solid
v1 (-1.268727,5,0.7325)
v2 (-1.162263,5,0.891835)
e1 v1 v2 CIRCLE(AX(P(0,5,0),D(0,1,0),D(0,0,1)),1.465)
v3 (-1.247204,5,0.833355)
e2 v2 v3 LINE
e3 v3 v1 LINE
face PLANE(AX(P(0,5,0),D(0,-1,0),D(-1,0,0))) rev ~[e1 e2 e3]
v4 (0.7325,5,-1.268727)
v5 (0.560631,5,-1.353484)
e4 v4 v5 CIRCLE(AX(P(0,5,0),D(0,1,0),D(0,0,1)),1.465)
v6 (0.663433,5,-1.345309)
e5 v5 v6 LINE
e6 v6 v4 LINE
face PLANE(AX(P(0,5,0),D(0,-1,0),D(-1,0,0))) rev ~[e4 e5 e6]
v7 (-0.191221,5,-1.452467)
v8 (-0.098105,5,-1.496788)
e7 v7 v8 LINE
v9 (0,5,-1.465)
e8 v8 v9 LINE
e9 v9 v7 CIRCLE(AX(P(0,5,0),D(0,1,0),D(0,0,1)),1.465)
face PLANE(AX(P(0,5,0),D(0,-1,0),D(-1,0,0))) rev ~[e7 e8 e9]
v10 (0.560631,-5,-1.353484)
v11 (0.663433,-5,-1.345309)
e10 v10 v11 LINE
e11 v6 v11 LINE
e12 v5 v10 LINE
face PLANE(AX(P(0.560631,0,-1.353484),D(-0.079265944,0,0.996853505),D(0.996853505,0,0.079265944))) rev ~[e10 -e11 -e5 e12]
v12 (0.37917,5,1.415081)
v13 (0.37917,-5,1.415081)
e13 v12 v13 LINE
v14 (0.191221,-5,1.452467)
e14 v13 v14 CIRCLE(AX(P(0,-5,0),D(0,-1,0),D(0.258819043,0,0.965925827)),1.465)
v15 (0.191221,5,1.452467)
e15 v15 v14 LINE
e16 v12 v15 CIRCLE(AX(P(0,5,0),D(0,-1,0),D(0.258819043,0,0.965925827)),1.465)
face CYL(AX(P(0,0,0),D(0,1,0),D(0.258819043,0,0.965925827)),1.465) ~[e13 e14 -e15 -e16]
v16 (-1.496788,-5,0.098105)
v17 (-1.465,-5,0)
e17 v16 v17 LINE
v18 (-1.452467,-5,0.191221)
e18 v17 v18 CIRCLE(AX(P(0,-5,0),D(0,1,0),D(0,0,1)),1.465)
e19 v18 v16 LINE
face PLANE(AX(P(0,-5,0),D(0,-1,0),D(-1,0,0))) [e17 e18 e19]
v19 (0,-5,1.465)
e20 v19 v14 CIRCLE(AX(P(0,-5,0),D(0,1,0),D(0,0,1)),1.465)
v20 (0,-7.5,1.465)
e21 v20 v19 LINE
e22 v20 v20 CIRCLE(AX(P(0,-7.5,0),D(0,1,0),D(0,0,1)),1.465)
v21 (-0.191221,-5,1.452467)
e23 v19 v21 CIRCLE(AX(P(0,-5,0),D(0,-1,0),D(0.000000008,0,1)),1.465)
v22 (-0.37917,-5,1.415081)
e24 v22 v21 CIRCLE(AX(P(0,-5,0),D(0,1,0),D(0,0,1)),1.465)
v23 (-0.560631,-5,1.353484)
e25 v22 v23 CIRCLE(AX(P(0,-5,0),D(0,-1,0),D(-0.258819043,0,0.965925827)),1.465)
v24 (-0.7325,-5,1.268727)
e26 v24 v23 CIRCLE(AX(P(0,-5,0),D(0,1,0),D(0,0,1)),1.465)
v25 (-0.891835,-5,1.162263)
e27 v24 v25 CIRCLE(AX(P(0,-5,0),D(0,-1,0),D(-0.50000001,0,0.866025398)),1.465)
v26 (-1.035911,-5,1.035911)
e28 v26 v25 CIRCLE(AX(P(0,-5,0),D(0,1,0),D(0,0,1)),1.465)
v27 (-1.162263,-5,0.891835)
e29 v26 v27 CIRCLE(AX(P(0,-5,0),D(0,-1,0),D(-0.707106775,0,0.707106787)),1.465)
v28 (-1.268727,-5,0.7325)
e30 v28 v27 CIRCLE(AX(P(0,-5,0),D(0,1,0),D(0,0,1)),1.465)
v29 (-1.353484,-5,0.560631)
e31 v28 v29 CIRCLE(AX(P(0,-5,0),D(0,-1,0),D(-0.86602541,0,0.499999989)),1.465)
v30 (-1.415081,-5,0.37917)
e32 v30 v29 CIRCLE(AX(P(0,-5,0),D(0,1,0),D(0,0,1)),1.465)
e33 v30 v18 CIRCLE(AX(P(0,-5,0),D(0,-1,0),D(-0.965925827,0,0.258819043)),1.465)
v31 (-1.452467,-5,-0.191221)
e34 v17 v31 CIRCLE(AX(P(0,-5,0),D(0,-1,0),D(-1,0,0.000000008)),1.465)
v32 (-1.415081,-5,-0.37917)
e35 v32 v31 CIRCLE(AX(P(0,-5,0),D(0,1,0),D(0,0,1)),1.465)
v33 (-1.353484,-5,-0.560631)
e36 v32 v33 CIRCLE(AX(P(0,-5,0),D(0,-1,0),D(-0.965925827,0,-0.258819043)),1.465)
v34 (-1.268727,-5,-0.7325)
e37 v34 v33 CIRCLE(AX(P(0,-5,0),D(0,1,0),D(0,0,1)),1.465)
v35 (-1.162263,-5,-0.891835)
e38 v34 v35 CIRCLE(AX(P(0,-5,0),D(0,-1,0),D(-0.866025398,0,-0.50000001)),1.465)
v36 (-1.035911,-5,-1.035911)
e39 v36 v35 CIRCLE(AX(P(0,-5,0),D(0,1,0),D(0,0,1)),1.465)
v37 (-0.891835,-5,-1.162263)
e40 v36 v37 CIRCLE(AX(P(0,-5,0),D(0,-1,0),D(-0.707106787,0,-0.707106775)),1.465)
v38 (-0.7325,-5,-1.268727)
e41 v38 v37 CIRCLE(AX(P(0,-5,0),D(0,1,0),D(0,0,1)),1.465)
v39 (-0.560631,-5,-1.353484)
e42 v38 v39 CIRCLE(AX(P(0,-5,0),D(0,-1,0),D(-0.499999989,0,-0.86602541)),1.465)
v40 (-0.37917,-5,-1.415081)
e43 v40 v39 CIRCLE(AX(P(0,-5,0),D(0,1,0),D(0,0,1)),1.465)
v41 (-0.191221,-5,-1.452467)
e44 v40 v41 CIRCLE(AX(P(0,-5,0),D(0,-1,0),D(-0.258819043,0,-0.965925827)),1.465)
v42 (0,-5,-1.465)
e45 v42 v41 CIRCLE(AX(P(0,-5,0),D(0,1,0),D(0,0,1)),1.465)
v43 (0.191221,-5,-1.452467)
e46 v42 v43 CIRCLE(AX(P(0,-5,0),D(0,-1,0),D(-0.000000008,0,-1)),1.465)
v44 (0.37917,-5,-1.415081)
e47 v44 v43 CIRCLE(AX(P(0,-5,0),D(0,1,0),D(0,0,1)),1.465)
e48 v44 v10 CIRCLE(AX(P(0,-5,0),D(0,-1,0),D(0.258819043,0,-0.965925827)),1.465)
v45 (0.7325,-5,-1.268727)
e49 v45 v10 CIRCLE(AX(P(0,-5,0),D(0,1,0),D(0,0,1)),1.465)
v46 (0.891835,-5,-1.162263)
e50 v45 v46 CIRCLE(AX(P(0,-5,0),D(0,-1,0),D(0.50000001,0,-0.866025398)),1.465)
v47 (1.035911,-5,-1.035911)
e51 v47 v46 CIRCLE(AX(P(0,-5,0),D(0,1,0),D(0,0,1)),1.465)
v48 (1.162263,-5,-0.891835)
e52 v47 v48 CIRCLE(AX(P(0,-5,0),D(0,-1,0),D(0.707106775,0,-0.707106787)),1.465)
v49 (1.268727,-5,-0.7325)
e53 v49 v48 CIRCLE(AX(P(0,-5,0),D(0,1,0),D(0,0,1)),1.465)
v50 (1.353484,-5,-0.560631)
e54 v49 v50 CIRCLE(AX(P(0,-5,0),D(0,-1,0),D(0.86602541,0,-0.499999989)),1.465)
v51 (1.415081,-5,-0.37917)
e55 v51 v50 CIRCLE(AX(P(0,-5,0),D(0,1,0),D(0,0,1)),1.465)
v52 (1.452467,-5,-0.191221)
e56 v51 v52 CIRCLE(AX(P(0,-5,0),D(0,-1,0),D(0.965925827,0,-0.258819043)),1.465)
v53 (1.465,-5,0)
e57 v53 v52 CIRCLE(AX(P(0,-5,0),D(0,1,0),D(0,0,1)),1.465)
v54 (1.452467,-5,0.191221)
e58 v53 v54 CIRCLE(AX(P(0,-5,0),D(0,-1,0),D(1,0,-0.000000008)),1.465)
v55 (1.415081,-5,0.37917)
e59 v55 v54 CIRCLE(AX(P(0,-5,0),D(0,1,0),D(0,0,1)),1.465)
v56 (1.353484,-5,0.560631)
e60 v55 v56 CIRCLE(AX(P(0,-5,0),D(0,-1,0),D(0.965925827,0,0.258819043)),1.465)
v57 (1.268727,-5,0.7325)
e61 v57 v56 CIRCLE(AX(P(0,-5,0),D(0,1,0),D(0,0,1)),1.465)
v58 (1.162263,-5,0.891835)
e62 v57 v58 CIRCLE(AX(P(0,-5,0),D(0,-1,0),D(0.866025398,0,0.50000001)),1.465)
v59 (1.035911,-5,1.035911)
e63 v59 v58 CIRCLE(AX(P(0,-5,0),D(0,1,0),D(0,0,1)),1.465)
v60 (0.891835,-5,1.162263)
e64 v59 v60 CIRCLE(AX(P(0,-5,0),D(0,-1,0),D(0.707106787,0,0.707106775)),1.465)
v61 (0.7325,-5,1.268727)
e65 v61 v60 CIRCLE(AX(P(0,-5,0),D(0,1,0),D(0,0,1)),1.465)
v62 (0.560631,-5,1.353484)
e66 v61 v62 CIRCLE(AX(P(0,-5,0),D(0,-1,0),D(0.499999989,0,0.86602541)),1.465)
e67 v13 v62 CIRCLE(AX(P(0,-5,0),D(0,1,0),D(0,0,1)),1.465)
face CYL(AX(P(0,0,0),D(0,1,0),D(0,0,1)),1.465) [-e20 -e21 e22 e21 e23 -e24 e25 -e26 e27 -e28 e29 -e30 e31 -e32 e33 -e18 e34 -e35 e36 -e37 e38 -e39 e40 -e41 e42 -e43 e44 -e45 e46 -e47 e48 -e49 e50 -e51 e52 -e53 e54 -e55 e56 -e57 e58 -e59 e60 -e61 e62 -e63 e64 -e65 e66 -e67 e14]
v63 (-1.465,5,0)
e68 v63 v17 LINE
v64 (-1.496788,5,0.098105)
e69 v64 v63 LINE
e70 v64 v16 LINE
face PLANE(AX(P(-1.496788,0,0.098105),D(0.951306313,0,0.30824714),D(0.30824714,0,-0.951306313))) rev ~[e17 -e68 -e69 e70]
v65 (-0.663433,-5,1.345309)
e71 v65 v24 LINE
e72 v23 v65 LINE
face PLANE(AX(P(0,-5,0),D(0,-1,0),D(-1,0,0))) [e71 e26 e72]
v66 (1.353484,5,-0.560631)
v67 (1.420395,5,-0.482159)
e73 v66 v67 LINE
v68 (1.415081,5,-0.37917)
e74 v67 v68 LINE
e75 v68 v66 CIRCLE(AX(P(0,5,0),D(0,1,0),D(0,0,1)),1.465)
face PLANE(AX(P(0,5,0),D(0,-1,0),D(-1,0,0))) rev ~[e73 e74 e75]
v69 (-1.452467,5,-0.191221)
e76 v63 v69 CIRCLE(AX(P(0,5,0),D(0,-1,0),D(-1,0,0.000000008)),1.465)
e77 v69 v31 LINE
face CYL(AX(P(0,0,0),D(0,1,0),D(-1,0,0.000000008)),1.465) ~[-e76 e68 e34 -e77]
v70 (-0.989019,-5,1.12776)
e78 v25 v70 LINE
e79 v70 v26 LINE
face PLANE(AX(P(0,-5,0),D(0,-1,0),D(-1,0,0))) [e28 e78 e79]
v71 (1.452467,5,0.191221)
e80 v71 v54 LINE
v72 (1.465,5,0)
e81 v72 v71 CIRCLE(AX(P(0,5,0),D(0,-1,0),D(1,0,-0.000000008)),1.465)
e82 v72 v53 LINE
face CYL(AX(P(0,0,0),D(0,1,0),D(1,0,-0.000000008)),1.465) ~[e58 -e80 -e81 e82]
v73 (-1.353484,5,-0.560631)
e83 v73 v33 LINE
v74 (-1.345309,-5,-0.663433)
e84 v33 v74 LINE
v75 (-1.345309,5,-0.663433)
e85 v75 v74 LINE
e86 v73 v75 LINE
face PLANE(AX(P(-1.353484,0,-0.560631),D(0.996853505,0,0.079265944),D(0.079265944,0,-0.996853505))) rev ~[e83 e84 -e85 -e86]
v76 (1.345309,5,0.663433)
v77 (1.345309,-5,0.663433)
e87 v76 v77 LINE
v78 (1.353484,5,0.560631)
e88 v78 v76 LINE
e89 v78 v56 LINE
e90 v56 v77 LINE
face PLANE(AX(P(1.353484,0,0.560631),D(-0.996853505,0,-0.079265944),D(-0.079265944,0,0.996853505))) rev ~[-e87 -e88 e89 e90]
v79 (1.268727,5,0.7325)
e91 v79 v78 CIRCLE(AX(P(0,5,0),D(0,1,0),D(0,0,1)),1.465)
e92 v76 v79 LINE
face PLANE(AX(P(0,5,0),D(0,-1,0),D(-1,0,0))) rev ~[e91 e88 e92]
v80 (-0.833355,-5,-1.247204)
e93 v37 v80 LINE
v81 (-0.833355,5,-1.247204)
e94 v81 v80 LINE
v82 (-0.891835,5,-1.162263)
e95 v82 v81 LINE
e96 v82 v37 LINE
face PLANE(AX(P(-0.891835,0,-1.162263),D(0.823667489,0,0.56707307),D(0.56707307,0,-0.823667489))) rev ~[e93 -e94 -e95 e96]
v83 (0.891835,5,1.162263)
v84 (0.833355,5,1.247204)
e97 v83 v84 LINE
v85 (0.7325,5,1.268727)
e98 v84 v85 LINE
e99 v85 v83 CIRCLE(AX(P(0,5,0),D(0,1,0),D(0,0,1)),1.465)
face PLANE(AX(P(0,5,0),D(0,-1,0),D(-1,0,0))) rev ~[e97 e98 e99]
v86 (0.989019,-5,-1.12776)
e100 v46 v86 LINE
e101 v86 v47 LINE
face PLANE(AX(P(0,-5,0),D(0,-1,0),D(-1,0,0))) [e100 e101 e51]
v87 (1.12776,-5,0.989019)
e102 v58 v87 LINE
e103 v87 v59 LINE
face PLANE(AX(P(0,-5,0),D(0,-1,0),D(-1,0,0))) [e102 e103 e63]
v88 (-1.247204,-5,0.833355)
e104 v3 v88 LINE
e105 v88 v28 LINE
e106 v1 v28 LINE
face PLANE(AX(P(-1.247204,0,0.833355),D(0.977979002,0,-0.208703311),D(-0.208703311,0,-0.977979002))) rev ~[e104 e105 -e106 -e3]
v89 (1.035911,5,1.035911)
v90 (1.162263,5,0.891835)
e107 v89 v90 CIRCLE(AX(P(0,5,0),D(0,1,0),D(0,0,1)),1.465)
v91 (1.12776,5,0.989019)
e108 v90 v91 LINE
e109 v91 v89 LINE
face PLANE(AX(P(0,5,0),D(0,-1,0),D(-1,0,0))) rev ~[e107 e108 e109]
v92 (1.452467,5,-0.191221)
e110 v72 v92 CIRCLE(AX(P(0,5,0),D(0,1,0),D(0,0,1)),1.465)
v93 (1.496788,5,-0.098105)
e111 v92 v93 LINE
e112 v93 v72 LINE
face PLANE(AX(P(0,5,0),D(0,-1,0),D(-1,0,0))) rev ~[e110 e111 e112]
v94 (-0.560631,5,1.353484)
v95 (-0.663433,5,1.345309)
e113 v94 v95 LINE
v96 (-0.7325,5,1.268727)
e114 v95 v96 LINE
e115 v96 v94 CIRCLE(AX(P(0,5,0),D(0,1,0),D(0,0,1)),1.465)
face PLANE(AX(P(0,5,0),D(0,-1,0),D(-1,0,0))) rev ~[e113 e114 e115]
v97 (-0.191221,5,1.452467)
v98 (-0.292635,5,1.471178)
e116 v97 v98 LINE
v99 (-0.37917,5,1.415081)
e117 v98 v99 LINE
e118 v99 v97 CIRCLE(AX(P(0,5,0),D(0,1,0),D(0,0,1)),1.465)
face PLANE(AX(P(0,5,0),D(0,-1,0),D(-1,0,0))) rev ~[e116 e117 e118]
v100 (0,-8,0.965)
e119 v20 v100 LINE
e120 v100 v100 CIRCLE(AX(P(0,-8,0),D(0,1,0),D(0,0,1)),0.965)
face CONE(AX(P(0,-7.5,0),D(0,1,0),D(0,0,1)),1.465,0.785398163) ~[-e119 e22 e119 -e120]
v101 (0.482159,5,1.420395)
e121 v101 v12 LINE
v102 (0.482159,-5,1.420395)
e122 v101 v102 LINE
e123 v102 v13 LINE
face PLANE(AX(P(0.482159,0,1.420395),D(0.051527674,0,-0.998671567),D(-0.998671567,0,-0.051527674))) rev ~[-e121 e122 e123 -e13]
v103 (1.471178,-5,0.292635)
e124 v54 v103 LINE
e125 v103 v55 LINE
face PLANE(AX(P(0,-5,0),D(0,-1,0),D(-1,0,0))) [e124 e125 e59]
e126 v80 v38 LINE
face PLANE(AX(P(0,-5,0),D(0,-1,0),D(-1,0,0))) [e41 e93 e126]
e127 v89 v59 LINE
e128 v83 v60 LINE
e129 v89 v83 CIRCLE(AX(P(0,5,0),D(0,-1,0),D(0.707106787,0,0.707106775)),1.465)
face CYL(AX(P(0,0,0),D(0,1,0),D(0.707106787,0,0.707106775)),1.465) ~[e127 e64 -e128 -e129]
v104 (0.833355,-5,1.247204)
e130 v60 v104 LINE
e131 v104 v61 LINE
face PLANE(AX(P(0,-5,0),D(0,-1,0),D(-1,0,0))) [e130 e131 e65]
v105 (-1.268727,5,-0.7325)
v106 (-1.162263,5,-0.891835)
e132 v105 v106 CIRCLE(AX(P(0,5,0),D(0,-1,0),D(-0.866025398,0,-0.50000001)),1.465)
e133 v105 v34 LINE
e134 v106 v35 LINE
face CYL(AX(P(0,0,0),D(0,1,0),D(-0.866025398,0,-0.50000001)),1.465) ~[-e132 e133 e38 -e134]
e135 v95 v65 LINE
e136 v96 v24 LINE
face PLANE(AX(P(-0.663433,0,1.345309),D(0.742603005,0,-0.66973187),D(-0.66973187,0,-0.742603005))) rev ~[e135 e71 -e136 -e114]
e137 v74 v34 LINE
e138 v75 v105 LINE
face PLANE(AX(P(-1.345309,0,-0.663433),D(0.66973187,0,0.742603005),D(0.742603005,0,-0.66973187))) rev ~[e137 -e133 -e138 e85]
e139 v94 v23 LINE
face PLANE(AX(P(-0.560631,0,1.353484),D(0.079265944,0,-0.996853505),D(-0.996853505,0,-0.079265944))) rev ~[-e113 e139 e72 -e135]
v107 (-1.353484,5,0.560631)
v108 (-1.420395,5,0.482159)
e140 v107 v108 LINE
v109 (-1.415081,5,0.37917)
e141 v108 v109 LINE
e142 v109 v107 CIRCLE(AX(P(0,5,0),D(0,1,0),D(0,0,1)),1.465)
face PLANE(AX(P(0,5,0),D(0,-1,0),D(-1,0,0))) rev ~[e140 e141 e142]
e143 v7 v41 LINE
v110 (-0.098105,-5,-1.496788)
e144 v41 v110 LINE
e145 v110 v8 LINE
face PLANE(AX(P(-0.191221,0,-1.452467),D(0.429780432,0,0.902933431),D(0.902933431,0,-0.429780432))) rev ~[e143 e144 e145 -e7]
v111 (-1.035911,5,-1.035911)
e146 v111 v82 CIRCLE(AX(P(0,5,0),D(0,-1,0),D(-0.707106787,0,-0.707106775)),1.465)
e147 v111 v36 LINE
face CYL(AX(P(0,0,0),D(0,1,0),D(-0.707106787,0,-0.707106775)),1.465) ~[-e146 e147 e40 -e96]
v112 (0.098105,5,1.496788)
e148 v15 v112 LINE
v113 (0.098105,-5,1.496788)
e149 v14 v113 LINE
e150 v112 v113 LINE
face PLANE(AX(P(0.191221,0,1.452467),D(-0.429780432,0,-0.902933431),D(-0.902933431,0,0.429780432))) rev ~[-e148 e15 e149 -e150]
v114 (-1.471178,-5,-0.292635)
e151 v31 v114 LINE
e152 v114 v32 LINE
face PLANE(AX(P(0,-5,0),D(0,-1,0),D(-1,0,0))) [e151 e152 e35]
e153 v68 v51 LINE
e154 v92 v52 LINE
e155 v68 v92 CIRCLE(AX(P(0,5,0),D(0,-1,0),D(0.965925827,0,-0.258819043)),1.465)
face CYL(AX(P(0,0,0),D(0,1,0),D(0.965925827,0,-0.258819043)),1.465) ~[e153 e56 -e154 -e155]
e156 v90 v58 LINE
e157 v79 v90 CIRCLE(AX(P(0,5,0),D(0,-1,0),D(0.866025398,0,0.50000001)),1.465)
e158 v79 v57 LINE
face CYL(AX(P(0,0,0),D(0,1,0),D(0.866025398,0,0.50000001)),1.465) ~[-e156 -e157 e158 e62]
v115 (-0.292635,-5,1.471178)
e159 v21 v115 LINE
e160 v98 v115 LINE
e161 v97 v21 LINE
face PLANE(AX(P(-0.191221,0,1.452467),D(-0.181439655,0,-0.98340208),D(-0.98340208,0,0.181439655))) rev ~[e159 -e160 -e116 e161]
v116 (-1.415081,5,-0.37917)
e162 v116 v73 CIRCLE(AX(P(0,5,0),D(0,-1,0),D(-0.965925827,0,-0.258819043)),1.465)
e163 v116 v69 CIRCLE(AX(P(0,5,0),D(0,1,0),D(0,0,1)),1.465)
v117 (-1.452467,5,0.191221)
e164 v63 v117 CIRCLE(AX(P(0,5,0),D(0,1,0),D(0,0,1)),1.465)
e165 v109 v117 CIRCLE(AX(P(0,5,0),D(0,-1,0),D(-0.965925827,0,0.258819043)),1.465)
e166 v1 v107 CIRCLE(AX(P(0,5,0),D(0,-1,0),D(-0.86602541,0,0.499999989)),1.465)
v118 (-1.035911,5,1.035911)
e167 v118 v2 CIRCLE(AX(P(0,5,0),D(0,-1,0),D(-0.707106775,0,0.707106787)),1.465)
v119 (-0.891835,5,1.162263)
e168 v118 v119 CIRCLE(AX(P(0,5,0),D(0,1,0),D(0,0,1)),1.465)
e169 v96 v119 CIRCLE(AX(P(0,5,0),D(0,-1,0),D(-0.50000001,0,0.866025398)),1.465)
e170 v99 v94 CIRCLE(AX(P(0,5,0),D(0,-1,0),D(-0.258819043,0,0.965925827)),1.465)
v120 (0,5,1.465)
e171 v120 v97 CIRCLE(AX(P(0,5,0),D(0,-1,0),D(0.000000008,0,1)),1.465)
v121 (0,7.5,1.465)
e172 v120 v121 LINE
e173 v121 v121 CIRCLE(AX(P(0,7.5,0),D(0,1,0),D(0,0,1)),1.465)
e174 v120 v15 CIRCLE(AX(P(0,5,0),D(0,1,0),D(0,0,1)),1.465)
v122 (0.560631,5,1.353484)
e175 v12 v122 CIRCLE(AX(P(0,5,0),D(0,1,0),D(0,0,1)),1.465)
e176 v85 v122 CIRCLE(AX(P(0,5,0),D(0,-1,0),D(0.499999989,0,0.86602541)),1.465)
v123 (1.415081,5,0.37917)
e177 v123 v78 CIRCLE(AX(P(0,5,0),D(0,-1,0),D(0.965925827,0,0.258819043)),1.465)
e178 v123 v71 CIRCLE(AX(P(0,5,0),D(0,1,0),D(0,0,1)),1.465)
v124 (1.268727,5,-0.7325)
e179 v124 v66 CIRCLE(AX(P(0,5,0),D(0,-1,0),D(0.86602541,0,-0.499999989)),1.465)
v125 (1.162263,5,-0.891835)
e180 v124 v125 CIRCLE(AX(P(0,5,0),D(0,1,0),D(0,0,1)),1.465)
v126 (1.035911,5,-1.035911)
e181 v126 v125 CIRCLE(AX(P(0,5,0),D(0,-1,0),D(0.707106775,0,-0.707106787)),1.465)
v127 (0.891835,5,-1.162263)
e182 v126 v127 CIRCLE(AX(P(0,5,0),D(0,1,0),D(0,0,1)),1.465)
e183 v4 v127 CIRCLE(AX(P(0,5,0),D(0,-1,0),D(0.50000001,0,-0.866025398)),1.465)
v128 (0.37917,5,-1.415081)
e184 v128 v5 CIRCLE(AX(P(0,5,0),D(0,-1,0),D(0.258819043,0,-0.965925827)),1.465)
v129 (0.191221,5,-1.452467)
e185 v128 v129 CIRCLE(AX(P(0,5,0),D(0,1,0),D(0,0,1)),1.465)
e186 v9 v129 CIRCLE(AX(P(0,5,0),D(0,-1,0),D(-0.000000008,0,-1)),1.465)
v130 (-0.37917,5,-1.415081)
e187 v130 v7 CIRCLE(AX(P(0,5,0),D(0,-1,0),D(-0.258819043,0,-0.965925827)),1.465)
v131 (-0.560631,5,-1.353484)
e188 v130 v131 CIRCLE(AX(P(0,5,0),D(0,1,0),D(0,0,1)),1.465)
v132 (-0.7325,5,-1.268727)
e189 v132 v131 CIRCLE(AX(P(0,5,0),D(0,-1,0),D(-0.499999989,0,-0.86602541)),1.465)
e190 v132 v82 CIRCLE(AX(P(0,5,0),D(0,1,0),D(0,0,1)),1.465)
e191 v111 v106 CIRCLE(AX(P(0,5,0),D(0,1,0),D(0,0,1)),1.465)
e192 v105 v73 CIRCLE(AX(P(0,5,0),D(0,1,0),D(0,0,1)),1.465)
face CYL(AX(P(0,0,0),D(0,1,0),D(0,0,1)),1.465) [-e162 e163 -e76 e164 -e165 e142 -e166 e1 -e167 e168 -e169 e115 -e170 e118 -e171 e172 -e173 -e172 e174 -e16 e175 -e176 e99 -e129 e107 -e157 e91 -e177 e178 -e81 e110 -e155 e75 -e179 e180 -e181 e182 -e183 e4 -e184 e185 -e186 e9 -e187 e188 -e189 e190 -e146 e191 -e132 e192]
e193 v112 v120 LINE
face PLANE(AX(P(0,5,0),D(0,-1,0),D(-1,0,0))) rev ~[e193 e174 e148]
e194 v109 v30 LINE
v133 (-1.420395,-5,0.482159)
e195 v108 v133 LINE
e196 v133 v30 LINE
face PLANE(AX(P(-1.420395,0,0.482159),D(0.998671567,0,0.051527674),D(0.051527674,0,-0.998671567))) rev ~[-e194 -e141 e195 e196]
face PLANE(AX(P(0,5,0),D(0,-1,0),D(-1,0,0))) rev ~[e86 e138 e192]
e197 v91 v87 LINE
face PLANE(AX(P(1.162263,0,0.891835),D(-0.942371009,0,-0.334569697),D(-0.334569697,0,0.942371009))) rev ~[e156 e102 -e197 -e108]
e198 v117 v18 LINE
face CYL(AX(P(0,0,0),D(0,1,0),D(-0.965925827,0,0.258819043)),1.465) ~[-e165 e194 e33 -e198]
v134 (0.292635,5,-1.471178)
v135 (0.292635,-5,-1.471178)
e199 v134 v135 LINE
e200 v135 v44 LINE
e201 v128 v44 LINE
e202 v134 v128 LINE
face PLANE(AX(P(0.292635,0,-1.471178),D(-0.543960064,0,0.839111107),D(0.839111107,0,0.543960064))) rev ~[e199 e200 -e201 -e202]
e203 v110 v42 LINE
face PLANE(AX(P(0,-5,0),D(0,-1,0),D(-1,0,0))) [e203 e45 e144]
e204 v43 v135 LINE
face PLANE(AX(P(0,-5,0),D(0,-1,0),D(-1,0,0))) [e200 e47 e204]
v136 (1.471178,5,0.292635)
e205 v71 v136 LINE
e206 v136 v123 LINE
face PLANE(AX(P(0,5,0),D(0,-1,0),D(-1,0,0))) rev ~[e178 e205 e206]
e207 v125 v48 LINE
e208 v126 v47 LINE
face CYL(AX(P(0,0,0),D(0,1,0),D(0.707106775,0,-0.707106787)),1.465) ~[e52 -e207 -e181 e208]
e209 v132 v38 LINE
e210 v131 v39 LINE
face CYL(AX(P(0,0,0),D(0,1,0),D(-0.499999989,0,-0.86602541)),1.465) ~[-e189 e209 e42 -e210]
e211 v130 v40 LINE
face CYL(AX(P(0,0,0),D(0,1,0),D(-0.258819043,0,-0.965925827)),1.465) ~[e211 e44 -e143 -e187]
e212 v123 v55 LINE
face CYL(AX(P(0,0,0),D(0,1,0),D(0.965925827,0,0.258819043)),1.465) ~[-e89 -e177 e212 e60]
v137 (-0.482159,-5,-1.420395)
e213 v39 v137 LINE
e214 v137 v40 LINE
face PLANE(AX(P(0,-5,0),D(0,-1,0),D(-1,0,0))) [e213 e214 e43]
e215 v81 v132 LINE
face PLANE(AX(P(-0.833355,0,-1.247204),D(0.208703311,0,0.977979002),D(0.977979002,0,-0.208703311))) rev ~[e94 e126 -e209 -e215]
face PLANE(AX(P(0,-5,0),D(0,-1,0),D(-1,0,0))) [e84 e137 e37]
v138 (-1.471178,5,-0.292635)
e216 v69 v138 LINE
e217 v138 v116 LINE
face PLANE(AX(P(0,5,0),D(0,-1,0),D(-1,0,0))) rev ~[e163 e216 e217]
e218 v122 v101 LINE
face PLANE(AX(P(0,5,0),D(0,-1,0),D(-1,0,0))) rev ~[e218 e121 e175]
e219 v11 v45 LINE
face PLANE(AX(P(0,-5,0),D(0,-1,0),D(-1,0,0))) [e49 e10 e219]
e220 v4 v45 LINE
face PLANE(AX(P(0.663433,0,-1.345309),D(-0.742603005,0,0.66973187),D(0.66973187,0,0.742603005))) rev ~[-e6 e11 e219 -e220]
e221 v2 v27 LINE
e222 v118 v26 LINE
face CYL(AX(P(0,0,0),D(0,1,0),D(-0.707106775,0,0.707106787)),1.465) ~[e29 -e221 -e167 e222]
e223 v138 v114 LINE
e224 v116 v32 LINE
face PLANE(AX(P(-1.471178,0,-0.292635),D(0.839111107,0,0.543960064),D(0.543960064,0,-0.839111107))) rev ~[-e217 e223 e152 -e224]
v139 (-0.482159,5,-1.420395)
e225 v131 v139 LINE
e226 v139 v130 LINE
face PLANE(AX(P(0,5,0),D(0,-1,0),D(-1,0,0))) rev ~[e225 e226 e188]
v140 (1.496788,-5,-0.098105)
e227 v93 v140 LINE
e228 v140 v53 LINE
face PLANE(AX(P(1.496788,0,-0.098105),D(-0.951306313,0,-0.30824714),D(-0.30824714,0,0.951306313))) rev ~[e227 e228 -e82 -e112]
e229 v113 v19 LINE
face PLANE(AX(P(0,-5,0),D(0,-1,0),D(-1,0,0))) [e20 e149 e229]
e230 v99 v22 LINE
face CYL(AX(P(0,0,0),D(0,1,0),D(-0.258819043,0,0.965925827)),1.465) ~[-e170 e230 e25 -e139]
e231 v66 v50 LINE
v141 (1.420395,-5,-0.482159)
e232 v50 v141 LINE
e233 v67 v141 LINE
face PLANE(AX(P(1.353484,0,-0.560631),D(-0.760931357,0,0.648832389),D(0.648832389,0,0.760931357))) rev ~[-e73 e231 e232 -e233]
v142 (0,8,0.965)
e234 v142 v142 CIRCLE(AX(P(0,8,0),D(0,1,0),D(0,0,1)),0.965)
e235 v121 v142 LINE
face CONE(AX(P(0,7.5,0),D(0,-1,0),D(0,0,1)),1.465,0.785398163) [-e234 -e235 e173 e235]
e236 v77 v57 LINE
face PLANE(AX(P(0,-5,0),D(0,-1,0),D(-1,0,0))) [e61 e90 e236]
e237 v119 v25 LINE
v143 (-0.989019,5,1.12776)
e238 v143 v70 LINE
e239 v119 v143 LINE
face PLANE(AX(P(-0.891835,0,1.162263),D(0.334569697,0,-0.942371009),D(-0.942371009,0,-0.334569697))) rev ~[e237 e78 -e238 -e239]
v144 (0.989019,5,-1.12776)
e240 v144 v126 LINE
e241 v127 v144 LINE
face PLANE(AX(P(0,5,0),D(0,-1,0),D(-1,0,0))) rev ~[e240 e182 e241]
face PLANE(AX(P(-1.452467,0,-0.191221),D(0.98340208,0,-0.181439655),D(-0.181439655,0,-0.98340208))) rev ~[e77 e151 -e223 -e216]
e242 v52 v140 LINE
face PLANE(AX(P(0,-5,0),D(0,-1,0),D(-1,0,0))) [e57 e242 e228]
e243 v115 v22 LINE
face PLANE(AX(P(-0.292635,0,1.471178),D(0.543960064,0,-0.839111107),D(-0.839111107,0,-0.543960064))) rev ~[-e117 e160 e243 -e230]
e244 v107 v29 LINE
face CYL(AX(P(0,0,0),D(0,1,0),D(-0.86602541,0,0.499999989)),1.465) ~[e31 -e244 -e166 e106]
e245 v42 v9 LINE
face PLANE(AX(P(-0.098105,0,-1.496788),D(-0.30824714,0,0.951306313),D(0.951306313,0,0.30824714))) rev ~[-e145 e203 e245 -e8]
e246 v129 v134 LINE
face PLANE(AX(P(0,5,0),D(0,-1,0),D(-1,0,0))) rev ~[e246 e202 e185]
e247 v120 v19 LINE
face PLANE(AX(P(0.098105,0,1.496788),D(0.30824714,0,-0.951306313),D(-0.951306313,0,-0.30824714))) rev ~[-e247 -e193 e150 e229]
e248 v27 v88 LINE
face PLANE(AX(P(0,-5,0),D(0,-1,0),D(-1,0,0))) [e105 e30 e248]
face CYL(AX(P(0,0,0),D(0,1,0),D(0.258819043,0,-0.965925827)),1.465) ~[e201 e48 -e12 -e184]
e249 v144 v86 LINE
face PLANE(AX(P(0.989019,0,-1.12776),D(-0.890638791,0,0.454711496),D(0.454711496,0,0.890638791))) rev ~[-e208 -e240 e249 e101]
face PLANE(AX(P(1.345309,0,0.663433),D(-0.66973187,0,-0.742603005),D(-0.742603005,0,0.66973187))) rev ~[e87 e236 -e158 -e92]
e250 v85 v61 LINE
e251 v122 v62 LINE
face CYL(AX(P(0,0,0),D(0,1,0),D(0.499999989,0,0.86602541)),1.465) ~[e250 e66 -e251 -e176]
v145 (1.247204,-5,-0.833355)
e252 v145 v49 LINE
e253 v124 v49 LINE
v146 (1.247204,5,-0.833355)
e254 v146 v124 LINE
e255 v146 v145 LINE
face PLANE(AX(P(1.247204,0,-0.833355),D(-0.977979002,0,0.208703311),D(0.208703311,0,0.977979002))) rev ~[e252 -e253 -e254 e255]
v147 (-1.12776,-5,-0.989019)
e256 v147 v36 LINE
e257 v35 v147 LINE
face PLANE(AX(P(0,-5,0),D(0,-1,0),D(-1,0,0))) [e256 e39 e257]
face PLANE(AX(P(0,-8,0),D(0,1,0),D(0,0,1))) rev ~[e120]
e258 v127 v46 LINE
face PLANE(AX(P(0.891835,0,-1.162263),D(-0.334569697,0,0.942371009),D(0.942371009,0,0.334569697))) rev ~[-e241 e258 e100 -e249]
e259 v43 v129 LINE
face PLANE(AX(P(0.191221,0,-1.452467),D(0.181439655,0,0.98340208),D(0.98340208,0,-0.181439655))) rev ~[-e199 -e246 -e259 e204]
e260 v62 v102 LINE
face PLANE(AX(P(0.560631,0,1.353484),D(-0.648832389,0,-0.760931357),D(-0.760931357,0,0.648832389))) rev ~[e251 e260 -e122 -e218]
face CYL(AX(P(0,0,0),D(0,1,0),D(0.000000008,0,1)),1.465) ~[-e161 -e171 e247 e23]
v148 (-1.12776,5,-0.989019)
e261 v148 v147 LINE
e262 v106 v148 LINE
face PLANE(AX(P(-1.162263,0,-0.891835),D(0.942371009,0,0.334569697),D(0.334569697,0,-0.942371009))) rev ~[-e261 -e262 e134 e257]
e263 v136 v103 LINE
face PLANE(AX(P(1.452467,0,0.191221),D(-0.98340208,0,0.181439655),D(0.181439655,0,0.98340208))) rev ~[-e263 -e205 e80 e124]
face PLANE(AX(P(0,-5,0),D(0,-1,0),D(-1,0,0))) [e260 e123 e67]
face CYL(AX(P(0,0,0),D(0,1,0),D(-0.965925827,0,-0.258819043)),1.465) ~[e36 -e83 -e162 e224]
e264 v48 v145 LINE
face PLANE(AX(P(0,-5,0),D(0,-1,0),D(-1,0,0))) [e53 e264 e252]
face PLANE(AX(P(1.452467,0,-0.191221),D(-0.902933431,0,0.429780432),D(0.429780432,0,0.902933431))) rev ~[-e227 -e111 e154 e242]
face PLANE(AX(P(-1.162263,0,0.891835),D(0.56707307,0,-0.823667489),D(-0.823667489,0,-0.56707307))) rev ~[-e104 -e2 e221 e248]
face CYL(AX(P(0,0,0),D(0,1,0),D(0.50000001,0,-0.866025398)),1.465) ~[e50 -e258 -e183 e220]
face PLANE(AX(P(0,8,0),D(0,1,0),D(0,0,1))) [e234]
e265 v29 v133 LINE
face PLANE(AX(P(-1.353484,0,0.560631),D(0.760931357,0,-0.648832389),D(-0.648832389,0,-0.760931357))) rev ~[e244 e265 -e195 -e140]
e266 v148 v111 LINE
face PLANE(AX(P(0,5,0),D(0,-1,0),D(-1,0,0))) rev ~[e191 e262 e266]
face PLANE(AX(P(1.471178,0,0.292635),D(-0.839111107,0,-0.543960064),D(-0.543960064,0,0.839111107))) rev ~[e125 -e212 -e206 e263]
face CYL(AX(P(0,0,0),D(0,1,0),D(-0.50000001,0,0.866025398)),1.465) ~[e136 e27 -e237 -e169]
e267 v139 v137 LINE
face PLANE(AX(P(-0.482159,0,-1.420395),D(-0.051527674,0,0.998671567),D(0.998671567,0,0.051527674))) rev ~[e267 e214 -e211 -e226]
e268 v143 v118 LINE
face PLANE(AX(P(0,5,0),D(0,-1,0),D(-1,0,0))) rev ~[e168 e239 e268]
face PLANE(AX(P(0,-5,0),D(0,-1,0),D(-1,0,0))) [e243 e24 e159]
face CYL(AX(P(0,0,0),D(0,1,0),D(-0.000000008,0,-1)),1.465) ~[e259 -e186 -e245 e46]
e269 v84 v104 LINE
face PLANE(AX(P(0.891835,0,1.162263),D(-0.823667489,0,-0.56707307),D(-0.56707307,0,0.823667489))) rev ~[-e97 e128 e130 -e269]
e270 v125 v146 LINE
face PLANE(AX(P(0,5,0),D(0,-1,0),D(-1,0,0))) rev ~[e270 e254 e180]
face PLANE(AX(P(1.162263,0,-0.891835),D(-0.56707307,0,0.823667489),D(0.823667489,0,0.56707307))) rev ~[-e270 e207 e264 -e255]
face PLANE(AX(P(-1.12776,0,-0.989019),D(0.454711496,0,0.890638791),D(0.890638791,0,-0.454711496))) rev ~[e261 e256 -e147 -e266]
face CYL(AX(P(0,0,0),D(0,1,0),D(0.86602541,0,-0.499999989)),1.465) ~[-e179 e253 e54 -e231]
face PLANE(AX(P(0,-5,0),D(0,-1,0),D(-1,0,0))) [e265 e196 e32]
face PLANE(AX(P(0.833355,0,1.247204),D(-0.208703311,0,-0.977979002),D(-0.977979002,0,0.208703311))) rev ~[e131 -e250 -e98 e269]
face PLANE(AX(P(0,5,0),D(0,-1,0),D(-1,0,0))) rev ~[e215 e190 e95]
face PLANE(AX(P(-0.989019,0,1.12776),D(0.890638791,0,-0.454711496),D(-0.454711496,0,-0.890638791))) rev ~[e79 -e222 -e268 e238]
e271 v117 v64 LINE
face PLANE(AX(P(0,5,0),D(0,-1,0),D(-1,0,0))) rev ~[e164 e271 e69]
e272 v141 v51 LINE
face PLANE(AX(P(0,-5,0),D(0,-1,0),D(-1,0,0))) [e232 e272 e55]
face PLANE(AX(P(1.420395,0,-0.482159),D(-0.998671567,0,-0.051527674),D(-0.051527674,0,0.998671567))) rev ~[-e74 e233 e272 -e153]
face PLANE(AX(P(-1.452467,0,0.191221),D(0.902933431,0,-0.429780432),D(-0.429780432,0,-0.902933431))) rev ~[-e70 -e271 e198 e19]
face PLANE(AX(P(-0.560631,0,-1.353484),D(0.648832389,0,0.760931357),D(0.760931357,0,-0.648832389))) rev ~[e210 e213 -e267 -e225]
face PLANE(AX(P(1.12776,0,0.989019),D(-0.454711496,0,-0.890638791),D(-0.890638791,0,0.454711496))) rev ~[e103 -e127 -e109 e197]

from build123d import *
from build123d.topology import SkipClean

# Parameters (mm, degrees)
SKETCH1_R      = 1.465
EXTRUDE1_DEPTH = 8
CHAMFER1_SIZE  = 0.5
EXTRUDE2_DEPTH = 5


with BuildPart() as part:
    # Sketch1 → Extrude1 (new, symmetric)
    with BuildSketch(Plane(origin=(0, 0, 0), x_dir=(1, 0, 0), z_dir=(0, 1, 0))):
        with Locations(Location((0, 0, 0), (0, 0, 270))):
            Circle(SKETCH1_R)
    extrude(amount=EXTRUDE1_DEPTH, both=True)

    # Chamfer1
    chamfer1_edges = [part.edges().sort_by_distance(p)[0] for p in [
        (0, -8, -1.465),
        (0, 8, -1.465),
    ]]
    chamfer(chamfer1_edges, length=CHAMFER1_SIZE)

    # Sketch2 → Extrude2 (add, symmetric)
    with SkipClean():  # the faces are left unmerged after this step: merging them gives an invalid solid
        with BuildSketch(Plane(origin=(0, 0, 0), x_dir=(1, 0, 0), z_dir=(0, 1, 0))):
            with BuildLine():
                Line((0.191220872, 1.452466722), (0.292635483, 1.471177921))
                Line((0.292635483, 1.471177921), (0.379169901, 1.415081336))
                ThreePointArc((0.379169901, 1.415081336), (0.470908817, 1.38725264), (0.560631228, 1.353483515))
                Line((0.560631228, 1.353483515), (0.663433035, 1.345309112))
                Line((0.663433035, 1.345309112), (0.7325, 1.268727217))
                ThreePointArc((0.7325, 1.268727217), (0.813910391, 1.218102982), (0.891835493, 1.162262644))
                Line((0.891835493, 1.162262644), (0.989018723, 1.127759711))
                Line((0.989018723, 1.127759711), (1.035911434, 1.035911434))
                ThreePointArc((1.035911434, 1.035911434), (1.101445318, 0.965941619), (1.162262644, 0.891835493))
                Line((1.162262644, 0.891835493), (1.247204418, 0.83335535))
                Line((1.247204418, 0.83335535), (1.268727217, 0.7325))
                ThreePointArc((1.268727217, 0.7325), (1.313918566, 0.647952931), (1.353483515, 0.560631228))
                Line((1.353483515, 0.560631228), (1.420395194, 0.482159198))
                Line((1.420395194, 0.482159198), (1.415081336, 0.379169901))
                ThreePointArc((1.415081336, 0.379169901), (1.436850436, 0.285807322), (1.452466722, 0.191220872))
                Line((1.452466722, 0.191220872), (1.496788385, 0.098104694))
                Line((1.496788385, 0.098104694), (1.465, 0))
                ThreePointArc((1.465, 0), (1.461863323, -0.095815584), (1.452466722, -0.191220872))
                Line((1.452466722, -0.191220872), (1.471177921, -0.292635483))
                Line((1.471177921, -0.292635483), (1.415081336, -0.379169901))
                ThreePointArc((1.415081336, -0.379169901), (1.38725264, -0.470908817), (1.353483515, -0.560631228))
                Line((1.353483515, -0.560631228), (1.345309112, -0.663433035))
                Line((1.345309112, -0.663433035), (1.268727217, -0.7325))
                ThreePointArc((1.268727217, -0.7325), (1.218102982, -0.813910391), (1.162262644, -0.891835493))
                Line((1.162262644, -0.891835493), (1.127759711, -0.989018723))
                Line((1.127759711, -0.989018723), (1.035911434, -1.035911434))
                ThreePointArc((1.035911434, -1.035911434), (0.965941619, -1.101445318), (0.891835493, -1.162262644))
                Line((0.891835493, -1.162262644), (0.83335535, -1.247204418))
                Line((0.83335535, -1.247204418), (0.7325, -1.268727217))
                ThreePointArc((0.7325, -1.268727217), (0.647952931, -1.313918566), (0.560631228, -1.353483515))
                Line((0.560631228, -1.353483515), (0.482159198, -1.420395194))
                Line((0.482159198, -1.420395194), (0.379169901, -1.415081336))
                ThreePointArc((0.379169901, -1.415081336), (0.285807322, -1.436850436), (0.191220872, -1.452466722))
                Line((0.191220872, -1.452466722), (0.098104694, -1.496788385))
                Line((0.098104694, -1.496788385), (0, -1.465))
                ThreePointArc((0, -1.465), (-0.095815584, -1.461863323), (-0.191220872, -1.452466722))
                Line((-0.191220872, -1.452466722), (-0.292635483, -1.471177921))
                Line((-0.292635483, -1.471177921), (-0.379169901, -1.415081336))
                ThreePointArc((-0.379169901, -1.415081336), (-0.470908817, -1.38725264), (-0.560631228, -1.353483515))
                Line((-0.560631228, -1.353483515), (-0.663433035, -1.345309112))
                Line((-0.663433035, -1.345309112), (-0.7325, -1.268727217))
                ThreePointArc((-0.7325, -1.268727217), (-0.813910391, -1.218102982), (-0.891835493, -1.162262644))
                Line((-0.891835493, -1.162262644), (-0.989018723, -1.127759711))
                Line((-0.989018723, -1.127759711), (-1.035911434, -1.035911434))
                ThreePointArc((-1.035911434, -1.035911434), (-1.101445318, -0.965941619), (-1.162262644, -0.891835493))
                Line((-1.162262644, -0.891835493), (-1.247204418, -0.83335535))
                Line((-1.247204418, -0.83335535), (-1.268727217, -0.7325))
                ThreePointArc((-1.268727217, -0.7325), (-1.313918566, -0.647952931), (-1.353483515, -0.560631228))
                Line((-1.353483515, -0.560631228), (-1.420395194, -0.482159198))
                Line((-1.420395194, -0.482159198), (-1.415081336, -0.379169901))
                ThreePointArc((-1.415081336, -0.379169901), (-1.436850436, -0.285807322), (-1.452466722, -0.191220872))
                Line((-1.452466722, -0.191220872), (-1.496788385, -0.098104694))
                Line((-1.496788385, -0.098104694), (-1.465, 0))
                ThreePointArc((-1.465, 0), (-1.461863323, 0.095815584), (-1.452466722, 0.191220872))
                Line((-1.452466722, 0.191220872), (-1.471177921, 0.292635483))
                Line((-1.471177921, 0.292635483), (-1.415081336, 0.379169901))
                ThreePointArc((-1.415081336, 0.379169901), (-1.38725264, 0.470908817), (-1.353483515, 0.560631228))
                Line((-1.353483515, 0.560631228), (-1.345309112, 0.663433035))
                Line((-1.345309112, 0.663433035), (-1.268727217, 0.7325))
                ThreePointArc((-1.268727217, 0.7325), (-1.218102982, 0.813910391), (-1.162262644, 0.891835493))
                Line((-1.162262644, 0.891835493), (-1.127759711, 0.989018723))
                Line((-1.127759711, 0.989018723), (-1.035911434, 1.035911434))
                ThreePointArc((-1.035911434, 1.035911434), (-0.965941619, 1.101445318), (-0.891835493, 1.162262644))
                Line((-0.891835493, 1.162262644), (-0.83335535, 1.247204418))
                Line((-0.83335535, 1.247204418), (-0.7325, 1.268727217))
                ThreePointArc((-0.7325, 1.268727217), (-0.647952931, 1.313918566), (-0.560631228, 1.353483515))
                Line((-0.560631228, 1.353483515), (-0.482159198, 1.420395194))
                Line((-0.482159198, 1.420395194), (-0.379169901, 1.415081336))
                ThreePointArc((-0.379169901, 1.415081336), (-0.285807322, 1.436850436), (-0.191220872, 1.452466722))
                Line((-0.191220872, 1.452466722), (-0.098104694, 1.496788385))
                Line((-0.098104694, 1.496788385), (0, 1.465))
                ThreePointArc((0, 1.465), (0.095815584, 1.461863323), (0.191220872, 1.452466722))
            make_face()
        extrude(amount=EXTRUDE2_DEPTH, both=True)


solid = part.part
